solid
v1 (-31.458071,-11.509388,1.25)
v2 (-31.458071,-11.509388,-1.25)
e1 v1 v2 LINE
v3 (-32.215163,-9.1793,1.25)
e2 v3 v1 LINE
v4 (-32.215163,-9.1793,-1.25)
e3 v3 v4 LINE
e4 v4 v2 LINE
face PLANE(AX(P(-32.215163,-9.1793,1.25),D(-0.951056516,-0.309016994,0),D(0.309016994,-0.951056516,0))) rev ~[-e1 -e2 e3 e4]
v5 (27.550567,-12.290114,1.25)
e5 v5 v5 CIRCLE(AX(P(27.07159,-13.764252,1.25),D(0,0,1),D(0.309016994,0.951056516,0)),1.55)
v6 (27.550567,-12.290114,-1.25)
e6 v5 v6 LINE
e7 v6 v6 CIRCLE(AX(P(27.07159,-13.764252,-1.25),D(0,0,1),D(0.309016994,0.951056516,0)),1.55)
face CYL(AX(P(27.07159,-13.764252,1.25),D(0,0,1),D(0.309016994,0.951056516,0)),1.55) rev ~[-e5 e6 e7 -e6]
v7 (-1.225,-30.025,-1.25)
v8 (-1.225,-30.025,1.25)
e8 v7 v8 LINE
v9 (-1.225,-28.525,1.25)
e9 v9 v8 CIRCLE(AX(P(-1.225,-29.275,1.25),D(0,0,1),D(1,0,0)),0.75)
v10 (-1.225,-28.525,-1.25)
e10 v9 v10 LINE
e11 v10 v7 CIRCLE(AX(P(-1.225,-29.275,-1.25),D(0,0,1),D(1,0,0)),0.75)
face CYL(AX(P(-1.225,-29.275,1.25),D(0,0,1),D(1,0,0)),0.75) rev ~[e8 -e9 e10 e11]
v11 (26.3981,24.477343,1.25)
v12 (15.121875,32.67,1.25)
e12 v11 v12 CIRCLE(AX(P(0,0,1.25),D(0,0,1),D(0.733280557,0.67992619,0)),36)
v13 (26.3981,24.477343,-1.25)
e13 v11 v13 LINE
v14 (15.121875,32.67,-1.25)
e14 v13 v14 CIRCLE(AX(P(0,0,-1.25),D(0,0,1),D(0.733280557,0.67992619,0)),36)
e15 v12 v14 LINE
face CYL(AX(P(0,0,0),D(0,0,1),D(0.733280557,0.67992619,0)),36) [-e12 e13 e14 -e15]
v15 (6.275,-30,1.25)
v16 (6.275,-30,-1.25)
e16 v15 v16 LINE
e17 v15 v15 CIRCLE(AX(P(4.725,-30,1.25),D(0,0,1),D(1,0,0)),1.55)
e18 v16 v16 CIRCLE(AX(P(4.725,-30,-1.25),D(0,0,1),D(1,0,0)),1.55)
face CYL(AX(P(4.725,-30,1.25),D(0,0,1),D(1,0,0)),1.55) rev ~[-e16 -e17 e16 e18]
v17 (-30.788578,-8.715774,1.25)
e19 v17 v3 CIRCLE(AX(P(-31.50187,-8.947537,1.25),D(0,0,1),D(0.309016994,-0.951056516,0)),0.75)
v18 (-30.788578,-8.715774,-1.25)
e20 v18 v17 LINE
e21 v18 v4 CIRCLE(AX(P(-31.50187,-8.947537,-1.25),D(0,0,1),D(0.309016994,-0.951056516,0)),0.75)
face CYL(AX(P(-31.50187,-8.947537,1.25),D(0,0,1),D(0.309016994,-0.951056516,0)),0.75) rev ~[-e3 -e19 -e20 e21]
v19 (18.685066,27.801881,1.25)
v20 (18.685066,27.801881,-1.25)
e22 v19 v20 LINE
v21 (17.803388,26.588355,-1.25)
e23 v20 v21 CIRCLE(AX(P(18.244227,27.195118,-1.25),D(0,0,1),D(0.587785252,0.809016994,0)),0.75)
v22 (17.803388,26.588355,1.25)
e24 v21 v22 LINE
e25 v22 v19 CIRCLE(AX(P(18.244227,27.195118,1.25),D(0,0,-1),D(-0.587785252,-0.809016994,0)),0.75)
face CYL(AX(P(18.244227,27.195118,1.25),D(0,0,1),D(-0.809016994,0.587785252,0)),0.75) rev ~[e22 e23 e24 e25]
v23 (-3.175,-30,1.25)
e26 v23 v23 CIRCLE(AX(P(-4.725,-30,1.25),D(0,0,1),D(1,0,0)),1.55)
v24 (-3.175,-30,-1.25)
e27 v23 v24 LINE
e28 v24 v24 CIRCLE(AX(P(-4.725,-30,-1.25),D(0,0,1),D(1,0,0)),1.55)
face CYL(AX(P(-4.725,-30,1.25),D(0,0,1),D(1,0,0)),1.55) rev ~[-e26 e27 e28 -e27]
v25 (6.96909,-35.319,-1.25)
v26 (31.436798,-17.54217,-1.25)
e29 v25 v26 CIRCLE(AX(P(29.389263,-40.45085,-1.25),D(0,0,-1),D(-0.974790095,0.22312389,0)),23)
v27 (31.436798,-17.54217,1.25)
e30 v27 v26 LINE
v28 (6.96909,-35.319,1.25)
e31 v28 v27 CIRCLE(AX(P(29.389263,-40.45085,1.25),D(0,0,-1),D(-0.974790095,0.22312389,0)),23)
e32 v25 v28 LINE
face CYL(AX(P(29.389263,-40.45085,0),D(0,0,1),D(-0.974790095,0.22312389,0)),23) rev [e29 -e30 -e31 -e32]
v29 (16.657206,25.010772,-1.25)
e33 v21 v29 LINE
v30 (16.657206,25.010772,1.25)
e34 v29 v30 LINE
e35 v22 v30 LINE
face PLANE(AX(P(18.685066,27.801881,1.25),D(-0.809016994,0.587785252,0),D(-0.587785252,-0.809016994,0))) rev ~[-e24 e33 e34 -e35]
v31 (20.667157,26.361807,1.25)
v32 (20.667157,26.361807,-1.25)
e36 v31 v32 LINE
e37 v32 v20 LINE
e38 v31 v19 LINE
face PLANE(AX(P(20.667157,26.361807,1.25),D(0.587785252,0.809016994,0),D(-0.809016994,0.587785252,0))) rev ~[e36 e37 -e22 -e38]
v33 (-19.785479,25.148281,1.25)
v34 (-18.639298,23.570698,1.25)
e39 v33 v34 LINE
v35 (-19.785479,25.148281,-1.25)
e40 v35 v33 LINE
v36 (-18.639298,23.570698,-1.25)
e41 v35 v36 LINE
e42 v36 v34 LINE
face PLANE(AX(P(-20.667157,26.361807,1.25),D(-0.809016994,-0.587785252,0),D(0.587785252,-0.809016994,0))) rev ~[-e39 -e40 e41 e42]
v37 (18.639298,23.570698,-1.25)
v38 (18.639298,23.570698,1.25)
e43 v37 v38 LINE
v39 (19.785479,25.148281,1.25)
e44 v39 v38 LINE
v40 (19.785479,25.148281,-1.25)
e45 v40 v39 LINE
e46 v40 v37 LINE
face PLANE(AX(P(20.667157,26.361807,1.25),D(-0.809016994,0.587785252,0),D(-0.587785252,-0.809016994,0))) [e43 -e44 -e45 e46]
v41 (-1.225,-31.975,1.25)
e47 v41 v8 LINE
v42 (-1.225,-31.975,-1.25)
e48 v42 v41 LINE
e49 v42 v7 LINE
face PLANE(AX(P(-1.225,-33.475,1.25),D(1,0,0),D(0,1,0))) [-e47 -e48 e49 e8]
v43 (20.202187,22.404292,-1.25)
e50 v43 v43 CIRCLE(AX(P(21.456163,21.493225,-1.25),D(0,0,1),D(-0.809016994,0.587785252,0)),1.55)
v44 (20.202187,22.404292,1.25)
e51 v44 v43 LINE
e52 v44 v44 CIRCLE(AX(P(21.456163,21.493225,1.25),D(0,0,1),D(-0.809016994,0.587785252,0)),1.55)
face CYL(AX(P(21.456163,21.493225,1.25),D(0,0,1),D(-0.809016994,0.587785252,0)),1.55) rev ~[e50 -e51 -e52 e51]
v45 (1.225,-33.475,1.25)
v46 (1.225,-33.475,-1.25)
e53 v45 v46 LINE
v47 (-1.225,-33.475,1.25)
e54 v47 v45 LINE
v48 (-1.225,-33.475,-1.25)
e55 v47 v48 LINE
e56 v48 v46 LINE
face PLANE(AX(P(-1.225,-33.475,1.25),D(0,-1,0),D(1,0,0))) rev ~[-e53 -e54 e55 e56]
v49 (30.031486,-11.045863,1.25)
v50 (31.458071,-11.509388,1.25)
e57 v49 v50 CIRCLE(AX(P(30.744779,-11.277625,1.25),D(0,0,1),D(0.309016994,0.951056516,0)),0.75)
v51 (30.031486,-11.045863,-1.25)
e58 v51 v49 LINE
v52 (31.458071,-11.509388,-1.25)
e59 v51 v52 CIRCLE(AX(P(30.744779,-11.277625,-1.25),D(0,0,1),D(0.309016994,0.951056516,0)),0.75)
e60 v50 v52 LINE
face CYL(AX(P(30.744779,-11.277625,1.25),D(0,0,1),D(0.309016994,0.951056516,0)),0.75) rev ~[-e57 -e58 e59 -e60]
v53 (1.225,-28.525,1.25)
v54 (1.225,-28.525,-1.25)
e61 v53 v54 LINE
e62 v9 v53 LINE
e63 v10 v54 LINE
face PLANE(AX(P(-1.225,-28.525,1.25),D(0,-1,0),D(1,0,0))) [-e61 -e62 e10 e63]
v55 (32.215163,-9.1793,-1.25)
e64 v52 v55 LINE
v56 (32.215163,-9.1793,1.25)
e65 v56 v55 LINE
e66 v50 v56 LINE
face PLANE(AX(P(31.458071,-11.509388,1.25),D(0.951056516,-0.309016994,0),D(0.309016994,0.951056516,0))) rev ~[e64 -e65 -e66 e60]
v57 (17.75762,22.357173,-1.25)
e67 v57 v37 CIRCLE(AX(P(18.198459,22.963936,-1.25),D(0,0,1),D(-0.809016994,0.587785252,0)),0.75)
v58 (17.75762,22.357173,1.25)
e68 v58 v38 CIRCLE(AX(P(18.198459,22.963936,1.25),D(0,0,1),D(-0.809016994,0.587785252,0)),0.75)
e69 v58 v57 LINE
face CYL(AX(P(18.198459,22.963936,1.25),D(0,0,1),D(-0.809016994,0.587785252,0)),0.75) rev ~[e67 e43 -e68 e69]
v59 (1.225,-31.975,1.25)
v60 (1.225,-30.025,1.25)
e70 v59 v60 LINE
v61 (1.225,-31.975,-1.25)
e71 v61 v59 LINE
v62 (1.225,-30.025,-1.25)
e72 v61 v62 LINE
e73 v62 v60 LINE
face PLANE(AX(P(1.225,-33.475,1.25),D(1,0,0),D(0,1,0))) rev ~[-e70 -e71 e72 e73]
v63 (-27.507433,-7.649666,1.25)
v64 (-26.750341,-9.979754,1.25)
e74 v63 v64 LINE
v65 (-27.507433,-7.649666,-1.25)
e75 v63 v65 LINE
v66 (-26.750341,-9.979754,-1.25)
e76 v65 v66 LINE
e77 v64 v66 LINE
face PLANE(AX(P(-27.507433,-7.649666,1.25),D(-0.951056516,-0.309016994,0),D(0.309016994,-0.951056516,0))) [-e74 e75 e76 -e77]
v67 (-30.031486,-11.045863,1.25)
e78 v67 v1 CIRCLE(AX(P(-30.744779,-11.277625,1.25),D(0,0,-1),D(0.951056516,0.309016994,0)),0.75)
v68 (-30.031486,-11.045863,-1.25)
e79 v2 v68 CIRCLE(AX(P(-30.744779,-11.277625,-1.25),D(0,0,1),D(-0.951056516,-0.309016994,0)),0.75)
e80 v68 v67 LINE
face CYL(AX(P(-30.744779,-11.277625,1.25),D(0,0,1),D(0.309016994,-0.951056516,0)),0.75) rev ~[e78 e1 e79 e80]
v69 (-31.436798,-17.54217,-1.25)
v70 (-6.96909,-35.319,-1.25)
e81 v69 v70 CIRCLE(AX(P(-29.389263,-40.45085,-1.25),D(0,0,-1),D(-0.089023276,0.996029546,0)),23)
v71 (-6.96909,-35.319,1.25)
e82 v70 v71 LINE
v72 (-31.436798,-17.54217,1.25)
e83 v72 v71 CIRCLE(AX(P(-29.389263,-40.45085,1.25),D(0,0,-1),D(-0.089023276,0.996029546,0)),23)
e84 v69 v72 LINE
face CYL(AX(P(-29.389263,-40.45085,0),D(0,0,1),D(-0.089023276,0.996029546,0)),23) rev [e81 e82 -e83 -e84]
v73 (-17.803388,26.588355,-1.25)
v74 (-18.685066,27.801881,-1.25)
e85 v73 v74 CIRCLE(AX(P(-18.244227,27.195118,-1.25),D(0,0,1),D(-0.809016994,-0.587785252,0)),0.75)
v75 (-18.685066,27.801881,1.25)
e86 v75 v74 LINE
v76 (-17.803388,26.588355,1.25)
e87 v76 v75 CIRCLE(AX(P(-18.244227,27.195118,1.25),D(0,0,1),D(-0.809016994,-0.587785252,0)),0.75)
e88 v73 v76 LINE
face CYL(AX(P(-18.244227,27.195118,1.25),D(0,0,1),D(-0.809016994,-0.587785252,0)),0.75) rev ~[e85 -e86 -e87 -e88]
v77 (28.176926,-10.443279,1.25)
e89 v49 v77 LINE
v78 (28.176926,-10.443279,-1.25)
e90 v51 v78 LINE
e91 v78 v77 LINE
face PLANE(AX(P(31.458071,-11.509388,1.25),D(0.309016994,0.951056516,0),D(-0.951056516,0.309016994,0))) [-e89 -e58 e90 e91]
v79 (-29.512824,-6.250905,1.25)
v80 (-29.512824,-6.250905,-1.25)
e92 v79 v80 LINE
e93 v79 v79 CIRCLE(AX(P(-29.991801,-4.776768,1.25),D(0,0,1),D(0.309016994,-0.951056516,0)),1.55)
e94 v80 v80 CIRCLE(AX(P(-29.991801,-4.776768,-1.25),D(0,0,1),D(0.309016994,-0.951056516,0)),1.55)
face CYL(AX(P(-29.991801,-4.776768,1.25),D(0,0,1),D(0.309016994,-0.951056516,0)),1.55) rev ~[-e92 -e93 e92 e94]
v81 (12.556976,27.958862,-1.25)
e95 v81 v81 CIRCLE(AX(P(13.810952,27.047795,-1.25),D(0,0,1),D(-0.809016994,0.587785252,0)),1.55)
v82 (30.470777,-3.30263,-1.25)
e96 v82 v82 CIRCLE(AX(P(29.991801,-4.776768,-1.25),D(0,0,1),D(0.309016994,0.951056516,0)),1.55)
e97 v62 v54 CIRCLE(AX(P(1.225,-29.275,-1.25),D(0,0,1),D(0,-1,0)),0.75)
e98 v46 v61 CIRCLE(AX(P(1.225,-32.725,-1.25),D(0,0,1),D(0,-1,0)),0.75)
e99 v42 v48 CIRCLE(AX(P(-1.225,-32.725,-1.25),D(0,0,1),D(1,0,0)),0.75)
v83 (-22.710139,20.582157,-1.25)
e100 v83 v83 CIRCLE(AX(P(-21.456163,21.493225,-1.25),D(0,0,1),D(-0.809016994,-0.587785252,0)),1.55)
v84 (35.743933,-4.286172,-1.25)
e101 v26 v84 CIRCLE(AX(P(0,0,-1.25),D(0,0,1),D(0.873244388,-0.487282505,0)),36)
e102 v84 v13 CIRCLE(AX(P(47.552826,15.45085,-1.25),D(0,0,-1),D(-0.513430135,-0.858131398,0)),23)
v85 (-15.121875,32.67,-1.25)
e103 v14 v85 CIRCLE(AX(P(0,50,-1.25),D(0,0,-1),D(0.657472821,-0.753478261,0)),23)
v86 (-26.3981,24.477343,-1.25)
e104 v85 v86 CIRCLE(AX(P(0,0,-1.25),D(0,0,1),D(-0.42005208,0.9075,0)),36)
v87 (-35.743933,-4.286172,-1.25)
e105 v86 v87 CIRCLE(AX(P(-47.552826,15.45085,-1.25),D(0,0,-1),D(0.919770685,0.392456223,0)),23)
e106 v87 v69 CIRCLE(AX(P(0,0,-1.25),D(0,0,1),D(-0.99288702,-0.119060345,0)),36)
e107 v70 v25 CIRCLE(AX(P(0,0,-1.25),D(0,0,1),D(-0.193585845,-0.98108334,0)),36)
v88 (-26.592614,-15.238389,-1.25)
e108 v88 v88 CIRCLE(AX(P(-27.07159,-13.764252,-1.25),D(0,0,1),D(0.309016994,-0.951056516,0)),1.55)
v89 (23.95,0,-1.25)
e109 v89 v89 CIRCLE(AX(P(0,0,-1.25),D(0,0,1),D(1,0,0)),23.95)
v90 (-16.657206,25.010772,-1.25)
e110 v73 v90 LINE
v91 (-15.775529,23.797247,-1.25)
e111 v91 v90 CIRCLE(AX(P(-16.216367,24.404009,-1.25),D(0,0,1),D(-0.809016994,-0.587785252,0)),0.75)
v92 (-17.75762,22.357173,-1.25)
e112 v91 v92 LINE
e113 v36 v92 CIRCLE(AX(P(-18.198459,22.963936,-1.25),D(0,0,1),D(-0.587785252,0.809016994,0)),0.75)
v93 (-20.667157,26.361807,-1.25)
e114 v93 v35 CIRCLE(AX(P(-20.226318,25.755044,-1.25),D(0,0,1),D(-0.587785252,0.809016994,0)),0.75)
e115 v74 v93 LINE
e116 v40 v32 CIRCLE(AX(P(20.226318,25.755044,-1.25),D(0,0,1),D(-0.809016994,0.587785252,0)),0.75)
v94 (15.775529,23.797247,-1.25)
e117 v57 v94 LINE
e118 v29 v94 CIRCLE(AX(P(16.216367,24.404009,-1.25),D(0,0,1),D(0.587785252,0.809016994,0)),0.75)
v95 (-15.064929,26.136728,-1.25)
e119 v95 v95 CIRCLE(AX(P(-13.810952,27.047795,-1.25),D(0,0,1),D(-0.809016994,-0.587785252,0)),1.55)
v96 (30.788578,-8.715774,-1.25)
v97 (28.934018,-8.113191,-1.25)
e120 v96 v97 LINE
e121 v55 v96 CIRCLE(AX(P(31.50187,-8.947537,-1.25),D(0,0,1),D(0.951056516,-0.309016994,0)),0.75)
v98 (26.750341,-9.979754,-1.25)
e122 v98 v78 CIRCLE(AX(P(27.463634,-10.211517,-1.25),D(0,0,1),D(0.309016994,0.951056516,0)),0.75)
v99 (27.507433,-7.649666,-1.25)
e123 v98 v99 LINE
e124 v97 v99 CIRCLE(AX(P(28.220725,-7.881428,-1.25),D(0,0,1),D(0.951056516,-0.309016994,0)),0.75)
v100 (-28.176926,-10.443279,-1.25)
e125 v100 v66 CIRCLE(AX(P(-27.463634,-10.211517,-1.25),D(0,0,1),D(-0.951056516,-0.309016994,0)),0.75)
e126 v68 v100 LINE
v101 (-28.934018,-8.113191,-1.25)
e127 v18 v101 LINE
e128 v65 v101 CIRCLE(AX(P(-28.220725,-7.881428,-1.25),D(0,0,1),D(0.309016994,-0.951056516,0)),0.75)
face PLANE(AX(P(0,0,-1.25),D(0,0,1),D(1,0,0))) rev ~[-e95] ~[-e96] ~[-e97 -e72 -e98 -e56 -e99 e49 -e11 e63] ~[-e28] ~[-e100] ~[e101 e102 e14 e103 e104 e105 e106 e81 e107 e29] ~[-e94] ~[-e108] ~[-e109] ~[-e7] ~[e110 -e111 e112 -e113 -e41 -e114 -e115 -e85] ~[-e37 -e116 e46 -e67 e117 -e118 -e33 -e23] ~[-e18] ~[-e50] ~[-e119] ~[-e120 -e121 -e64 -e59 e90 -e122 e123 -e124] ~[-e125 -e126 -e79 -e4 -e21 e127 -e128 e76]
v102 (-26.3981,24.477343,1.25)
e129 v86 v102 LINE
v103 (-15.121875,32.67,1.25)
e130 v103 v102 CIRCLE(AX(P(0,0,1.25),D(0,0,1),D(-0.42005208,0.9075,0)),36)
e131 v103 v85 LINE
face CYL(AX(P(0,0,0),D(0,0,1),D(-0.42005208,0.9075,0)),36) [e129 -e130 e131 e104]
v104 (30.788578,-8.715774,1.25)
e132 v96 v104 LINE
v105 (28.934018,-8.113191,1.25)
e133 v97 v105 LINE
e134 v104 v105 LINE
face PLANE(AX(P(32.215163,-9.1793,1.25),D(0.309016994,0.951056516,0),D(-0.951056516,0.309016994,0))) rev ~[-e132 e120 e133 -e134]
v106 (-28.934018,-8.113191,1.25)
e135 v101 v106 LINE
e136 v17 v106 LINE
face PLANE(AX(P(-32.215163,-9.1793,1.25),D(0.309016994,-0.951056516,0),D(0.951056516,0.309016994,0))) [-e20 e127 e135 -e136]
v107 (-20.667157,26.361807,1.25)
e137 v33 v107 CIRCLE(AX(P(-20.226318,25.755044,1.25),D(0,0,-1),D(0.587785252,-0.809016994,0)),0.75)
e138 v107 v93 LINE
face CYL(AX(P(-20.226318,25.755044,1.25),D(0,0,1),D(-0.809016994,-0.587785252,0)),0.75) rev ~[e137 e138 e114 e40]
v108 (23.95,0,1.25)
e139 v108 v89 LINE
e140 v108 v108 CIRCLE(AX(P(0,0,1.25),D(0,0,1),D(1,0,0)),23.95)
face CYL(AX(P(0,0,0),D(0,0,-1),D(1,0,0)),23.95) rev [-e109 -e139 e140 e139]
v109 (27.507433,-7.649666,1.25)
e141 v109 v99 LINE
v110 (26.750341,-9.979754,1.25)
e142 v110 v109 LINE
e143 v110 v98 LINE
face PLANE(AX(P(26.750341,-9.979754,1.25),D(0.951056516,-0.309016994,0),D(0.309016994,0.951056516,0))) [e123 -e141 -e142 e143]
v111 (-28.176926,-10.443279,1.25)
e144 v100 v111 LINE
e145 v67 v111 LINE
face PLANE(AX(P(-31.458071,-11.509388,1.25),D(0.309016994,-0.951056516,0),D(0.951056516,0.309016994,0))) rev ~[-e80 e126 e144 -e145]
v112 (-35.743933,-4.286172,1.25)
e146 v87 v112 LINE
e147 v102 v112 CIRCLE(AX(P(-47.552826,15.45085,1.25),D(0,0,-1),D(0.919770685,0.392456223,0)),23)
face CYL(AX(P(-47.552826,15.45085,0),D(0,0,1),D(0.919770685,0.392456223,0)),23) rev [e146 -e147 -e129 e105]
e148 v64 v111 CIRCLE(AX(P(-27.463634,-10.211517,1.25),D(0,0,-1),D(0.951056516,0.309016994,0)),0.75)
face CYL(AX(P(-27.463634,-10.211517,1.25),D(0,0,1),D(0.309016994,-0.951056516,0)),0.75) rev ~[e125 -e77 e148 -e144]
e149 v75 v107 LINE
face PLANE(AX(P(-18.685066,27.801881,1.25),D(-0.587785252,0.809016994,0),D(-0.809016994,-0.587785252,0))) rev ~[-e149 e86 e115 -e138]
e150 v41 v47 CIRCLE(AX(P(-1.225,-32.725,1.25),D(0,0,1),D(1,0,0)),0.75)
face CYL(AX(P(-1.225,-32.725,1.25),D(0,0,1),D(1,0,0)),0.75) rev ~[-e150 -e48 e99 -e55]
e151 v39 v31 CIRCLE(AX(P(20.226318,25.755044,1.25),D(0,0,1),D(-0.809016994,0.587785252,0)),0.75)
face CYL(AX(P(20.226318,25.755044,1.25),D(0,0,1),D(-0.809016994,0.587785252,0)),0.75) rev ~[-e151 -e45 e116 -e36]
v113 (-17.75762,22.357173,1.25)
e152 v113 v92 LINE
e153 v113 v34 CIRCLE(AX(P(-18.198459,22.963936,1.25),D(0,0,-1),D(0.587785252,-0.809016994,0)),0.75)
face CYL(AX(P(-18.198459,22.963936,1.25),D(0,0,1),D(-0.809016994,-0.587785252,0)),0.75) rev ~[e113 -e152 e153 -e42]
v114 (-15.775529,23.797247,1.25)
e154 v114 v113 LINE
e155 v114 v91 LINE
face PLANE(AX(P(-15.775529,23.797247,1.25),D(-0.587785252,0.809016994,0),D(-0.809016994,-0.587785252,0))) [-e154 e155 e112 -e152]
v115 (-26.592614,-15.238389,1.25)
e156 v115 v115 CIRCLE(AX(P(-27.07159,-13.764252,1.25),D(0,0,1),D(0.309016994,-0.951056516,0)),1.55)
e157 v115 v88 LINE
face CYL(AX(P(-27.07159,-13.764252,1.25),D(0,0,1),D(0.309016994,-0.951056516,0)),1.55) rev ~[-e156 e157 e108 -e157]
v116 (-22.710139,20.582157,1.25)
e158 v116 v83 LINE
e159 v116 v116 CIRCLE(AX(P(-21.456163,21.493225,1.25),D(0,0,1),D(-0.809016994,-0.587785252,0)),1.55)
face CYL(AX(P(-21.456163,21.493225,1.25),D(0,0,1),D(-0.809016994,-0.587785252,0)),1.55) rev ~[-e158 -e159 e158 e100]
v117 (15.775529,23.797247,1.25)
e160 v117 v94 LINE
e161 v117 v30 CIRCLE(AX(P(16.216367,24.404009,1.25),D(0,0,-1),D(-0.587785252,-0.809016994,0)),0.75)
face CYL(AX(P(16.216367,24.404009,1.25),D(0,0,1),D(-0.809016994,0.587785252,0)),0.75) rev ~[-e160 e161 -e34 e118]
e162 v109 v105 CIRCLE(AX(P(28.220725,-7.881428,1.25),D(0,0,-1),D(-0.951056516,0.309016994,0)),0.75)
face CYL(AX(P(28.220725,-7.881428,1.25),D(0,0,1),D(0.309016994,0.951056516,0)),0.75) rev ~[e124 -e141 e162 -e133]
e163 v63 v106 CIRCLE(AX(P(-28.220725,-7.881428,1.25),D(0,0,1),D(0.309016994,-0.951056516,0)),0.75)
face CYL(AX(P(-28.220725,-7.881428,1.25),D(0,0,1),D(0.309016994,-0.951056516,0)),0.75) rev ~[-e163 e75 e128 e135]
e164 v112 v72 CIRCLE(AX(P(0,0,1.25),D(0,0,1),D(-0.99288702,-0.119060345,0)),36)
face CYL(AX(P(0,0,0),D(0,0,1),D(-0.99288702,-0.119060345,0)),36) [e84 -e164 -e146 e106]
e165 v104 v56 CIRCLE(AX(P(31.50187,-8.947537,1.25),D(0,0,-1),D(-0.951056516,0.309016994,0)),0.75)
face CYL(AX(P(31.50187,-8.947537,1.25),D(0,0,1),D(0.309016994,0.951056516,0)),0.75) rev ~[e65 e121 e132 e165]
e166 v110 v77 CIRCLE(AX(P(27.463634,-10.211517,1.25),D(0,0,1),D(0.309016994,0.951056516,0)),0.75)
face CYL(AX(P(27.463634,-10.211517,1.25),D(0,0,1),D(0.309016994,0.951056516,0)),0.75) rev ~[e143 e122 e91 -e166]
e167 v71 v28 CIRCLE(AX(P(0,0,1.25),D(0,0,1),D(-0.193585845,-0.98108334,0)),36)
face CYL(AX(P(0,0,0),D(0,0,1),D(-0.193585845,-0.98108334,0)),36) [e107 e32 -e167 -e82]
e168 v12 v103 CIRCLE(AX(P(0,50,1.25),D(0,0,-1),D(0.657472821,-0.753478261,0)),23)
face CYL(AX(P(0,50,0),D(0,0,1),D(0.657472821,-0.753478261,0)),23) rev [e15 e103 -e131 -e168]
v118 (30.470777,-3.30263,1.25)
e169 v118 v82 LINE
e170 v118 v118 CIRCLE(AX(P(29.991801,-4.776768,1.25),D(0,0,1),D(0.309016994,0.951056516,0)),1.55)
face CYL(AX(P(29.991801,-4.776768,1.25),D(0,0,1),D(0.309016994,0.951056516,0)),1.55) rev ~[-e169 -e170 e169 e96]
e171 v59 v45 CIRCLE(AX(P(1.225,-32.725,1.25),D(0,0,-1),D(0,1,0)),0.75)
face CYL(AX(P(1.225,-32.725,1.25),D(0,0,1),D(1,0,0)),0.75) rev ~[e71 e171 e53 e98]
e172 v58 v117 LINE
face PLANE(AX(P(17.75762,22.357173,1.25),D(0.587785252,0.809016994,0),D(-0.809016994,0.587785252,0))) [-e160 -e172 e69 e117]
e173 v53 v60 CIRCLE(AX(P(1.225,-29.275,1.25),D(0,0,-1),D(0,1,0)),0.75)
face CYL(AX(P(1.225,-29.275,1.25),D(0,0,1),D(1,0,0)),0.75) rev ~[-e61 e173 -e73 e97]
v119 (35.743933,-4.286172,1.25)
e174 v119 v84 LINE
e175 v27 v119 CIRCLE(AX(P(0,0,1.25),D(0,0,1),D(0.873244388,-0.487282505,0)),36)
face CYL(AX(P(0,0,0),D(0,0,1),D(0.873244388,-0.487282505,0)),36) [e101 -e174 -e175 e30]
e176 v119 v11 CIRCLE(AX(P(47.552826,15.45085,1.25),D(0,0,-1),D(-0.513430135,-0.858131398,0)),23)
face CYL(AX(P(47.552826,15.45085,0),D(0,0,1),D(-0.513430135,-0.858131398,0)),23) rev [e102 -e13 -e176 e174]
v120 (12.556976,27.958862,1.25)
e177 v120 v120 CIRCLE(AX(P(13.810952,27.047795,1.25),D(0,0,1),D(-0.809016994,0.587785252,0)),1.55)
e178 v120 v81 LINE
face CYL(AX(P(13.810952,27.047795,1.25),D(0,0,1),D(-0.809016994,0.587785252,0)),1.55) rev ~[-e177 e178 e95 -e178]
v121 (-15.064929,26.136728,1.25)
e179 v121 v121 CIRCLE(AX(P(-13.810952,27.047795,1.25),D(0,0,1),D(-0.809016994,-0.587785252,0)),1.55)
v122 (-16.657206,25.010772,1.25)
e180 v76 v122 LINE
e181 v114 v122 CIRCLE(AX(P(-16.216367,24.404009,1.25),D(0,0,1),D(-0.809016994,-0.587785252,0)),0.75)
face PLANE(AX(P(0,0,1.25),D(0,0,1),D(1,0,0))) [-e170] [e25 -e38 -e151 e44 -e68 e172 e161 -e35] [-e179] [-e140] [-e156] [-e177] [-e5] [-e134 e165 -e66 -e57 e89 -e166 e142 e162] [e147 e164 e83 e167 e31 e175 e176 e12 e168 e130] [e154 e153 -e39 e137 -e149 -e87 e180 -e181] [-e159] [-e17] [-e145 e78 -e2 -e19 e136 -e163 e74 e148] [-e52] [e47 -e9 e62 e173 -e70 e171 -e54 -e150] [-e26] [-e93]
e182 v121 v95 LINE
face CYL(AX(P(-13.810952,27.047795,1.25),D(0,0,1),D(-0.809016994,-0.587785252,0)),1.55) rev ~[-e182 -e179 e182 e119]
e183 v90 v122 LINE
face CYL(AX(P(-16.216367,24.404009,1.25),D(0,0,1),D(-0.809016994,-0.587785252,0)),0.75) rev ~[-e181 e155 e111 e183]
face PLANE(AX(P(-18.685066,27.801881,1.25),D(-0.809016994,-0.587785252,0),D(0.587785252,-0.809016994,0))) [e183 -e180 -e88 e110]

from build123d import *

# Parameters (mm, degrees)
SKETCH_1_R               = 23.95
EXTRUDE_1_DEPTH          = 1.25
SKETCH_2_W               = 2.45
SKETCH_2_H               = 4.95
CUT_EXTRUDE_1_DEPTH      = 3.5
SKETCH_3_R               = 0.75
CUT_EXTRUDE_2_DEPTH      = 3.5
SKETCH_4_R               = 1.55
CUT_EXTRUDE_3_DEPTH      = 3.5
PATTERN_CIRCULAR_1_COUNT = 5


with BuildPart() as part:
    # 草图1 → 凸台-拉伸1 (new body, symmetric)
    with BuildSketch(Plane.XY):
        with BuildLine():
            ThreePointArc((-15.121874884, 32.67), (-21.160269083, 29.124611797), (-26.398100061, 24.477342853))
            ThreePointArc((-26.398100061, 24.477342853), (-25.67852594, 8.343458848), (-35.743932713, -4.286172441))
            ThreePointArc((-35.743932713, -4.286172441), (-34.238034587, -11.124611797), (-31.43679796, -17.542170163))
            ThreePointArc((-31.43679796, -17.542170163), (-15.870201812, -21.843458848), (-6.969090425, -35.31900025))
            ThreePointArc((-6.969090425, -35.31900025), (0, -36), (6.969090425, -35.31900025))
            ThreePointArc((6.969090425, -35.31900025), (15.870201812, -21.843458848), (31.43679796, -17.542170163))
            ThreePointArc((31.43679796, -17.542170163), (34.238034587, -11.124611797), (35.743932713, -4.286172441))
            ThreePointArc((35.743932713, -4.286172441), (25.67852594, 8.343458848), (26.398100061, 24.477342853))
            ThreePointArc((26.398100061, 24.477342853), (21.160269083, 29.124611797), (15.121874884, 32.67))
            ThreePointArc((15.121874884, 32.67), (0, 27), (-15.121874884, 32.67))
        make_face()
        Circle(SKETCH_1_R, mode=Mode.SUBTRACT)
    extrude(amount=EXTRUDE_1_DEPTH, both=True)

    # 草图2 → 切除-拉伸1 (cut, through all)
    with BuildSketch(Plane.XY.offset(1.25)):
        with Locations((0, -31)):
            Rectangle(SKETCH_2_W, SKETCH_2_H)
    cut_extrude_1 = extrude(amount=-CUT_EXTRUDE_1_DEPTH, mode=Mode.SUBTRACT)

    # 草图3 → 切除-拉伸2 (cut, through all)
    with BuildSketch(Plane.XY.offset(1.25)):
        with Locations((-1.225, -29.275)):
            Circle(SKETCH_3_R)
        with Locations((1.225, -29.275)):
            Circle(SKETCH_3_R)
        with Locations((-1.225, -32.725)):
            Circle(SKETCH_3_R)
        with Locations((1.225, -32.725)):
            Circle(SKETCH_3_R)
    cut_extrude_2 = extrude(amount=-CUT_EXTRUDE_2_DEPTH, mode=Mode.SUBTRACT)

    # 草图4 → 切除-拉伸3 (cut, through all)
    with BuildSketch(Plane.XY.offset(1.25)):
        with Locations((-4.725, -30)):
            Circle(SKETCH_4_R)
        with Locations((4.725, -30)):
            Circle(SKETCH_4_R)
    cut_extrude_3 = extrude(amount=-CUT_EXTRUDE_3_DEPTH, mode=Mode.SUBTRACT)

    # 阵列(圆周)1: 切除-拉伸1, 切除-拉伸2, 切除-拉伸3 ×5 about axis
    pattern_circular_1_axis = Axis((0, 0, 0), (0, 0, 1))
    for i in range(1, PATTERN_CIRCULAR_1_COUNT):
        add(cut_extrude_1.rotate(pattern_circular_1_axis, i * 360 / PATTERN_CIRCULAR_1_COUNT), mode=Mode.SUBTRACT)
        add(cut_extrude_2.rotate(pattern_circular_1_axis, i * 360 / PATTERN_CIRCULAR_1_COUNT), mode=Mode.SUBTRACT)
        add(cut_extrude_3.rotate(pattern_circular_1_axis, i * 360 / PATTERN_CIRCULAR_1_COUNT), mode=Mode.SUBTRACT)


solid = part.part
